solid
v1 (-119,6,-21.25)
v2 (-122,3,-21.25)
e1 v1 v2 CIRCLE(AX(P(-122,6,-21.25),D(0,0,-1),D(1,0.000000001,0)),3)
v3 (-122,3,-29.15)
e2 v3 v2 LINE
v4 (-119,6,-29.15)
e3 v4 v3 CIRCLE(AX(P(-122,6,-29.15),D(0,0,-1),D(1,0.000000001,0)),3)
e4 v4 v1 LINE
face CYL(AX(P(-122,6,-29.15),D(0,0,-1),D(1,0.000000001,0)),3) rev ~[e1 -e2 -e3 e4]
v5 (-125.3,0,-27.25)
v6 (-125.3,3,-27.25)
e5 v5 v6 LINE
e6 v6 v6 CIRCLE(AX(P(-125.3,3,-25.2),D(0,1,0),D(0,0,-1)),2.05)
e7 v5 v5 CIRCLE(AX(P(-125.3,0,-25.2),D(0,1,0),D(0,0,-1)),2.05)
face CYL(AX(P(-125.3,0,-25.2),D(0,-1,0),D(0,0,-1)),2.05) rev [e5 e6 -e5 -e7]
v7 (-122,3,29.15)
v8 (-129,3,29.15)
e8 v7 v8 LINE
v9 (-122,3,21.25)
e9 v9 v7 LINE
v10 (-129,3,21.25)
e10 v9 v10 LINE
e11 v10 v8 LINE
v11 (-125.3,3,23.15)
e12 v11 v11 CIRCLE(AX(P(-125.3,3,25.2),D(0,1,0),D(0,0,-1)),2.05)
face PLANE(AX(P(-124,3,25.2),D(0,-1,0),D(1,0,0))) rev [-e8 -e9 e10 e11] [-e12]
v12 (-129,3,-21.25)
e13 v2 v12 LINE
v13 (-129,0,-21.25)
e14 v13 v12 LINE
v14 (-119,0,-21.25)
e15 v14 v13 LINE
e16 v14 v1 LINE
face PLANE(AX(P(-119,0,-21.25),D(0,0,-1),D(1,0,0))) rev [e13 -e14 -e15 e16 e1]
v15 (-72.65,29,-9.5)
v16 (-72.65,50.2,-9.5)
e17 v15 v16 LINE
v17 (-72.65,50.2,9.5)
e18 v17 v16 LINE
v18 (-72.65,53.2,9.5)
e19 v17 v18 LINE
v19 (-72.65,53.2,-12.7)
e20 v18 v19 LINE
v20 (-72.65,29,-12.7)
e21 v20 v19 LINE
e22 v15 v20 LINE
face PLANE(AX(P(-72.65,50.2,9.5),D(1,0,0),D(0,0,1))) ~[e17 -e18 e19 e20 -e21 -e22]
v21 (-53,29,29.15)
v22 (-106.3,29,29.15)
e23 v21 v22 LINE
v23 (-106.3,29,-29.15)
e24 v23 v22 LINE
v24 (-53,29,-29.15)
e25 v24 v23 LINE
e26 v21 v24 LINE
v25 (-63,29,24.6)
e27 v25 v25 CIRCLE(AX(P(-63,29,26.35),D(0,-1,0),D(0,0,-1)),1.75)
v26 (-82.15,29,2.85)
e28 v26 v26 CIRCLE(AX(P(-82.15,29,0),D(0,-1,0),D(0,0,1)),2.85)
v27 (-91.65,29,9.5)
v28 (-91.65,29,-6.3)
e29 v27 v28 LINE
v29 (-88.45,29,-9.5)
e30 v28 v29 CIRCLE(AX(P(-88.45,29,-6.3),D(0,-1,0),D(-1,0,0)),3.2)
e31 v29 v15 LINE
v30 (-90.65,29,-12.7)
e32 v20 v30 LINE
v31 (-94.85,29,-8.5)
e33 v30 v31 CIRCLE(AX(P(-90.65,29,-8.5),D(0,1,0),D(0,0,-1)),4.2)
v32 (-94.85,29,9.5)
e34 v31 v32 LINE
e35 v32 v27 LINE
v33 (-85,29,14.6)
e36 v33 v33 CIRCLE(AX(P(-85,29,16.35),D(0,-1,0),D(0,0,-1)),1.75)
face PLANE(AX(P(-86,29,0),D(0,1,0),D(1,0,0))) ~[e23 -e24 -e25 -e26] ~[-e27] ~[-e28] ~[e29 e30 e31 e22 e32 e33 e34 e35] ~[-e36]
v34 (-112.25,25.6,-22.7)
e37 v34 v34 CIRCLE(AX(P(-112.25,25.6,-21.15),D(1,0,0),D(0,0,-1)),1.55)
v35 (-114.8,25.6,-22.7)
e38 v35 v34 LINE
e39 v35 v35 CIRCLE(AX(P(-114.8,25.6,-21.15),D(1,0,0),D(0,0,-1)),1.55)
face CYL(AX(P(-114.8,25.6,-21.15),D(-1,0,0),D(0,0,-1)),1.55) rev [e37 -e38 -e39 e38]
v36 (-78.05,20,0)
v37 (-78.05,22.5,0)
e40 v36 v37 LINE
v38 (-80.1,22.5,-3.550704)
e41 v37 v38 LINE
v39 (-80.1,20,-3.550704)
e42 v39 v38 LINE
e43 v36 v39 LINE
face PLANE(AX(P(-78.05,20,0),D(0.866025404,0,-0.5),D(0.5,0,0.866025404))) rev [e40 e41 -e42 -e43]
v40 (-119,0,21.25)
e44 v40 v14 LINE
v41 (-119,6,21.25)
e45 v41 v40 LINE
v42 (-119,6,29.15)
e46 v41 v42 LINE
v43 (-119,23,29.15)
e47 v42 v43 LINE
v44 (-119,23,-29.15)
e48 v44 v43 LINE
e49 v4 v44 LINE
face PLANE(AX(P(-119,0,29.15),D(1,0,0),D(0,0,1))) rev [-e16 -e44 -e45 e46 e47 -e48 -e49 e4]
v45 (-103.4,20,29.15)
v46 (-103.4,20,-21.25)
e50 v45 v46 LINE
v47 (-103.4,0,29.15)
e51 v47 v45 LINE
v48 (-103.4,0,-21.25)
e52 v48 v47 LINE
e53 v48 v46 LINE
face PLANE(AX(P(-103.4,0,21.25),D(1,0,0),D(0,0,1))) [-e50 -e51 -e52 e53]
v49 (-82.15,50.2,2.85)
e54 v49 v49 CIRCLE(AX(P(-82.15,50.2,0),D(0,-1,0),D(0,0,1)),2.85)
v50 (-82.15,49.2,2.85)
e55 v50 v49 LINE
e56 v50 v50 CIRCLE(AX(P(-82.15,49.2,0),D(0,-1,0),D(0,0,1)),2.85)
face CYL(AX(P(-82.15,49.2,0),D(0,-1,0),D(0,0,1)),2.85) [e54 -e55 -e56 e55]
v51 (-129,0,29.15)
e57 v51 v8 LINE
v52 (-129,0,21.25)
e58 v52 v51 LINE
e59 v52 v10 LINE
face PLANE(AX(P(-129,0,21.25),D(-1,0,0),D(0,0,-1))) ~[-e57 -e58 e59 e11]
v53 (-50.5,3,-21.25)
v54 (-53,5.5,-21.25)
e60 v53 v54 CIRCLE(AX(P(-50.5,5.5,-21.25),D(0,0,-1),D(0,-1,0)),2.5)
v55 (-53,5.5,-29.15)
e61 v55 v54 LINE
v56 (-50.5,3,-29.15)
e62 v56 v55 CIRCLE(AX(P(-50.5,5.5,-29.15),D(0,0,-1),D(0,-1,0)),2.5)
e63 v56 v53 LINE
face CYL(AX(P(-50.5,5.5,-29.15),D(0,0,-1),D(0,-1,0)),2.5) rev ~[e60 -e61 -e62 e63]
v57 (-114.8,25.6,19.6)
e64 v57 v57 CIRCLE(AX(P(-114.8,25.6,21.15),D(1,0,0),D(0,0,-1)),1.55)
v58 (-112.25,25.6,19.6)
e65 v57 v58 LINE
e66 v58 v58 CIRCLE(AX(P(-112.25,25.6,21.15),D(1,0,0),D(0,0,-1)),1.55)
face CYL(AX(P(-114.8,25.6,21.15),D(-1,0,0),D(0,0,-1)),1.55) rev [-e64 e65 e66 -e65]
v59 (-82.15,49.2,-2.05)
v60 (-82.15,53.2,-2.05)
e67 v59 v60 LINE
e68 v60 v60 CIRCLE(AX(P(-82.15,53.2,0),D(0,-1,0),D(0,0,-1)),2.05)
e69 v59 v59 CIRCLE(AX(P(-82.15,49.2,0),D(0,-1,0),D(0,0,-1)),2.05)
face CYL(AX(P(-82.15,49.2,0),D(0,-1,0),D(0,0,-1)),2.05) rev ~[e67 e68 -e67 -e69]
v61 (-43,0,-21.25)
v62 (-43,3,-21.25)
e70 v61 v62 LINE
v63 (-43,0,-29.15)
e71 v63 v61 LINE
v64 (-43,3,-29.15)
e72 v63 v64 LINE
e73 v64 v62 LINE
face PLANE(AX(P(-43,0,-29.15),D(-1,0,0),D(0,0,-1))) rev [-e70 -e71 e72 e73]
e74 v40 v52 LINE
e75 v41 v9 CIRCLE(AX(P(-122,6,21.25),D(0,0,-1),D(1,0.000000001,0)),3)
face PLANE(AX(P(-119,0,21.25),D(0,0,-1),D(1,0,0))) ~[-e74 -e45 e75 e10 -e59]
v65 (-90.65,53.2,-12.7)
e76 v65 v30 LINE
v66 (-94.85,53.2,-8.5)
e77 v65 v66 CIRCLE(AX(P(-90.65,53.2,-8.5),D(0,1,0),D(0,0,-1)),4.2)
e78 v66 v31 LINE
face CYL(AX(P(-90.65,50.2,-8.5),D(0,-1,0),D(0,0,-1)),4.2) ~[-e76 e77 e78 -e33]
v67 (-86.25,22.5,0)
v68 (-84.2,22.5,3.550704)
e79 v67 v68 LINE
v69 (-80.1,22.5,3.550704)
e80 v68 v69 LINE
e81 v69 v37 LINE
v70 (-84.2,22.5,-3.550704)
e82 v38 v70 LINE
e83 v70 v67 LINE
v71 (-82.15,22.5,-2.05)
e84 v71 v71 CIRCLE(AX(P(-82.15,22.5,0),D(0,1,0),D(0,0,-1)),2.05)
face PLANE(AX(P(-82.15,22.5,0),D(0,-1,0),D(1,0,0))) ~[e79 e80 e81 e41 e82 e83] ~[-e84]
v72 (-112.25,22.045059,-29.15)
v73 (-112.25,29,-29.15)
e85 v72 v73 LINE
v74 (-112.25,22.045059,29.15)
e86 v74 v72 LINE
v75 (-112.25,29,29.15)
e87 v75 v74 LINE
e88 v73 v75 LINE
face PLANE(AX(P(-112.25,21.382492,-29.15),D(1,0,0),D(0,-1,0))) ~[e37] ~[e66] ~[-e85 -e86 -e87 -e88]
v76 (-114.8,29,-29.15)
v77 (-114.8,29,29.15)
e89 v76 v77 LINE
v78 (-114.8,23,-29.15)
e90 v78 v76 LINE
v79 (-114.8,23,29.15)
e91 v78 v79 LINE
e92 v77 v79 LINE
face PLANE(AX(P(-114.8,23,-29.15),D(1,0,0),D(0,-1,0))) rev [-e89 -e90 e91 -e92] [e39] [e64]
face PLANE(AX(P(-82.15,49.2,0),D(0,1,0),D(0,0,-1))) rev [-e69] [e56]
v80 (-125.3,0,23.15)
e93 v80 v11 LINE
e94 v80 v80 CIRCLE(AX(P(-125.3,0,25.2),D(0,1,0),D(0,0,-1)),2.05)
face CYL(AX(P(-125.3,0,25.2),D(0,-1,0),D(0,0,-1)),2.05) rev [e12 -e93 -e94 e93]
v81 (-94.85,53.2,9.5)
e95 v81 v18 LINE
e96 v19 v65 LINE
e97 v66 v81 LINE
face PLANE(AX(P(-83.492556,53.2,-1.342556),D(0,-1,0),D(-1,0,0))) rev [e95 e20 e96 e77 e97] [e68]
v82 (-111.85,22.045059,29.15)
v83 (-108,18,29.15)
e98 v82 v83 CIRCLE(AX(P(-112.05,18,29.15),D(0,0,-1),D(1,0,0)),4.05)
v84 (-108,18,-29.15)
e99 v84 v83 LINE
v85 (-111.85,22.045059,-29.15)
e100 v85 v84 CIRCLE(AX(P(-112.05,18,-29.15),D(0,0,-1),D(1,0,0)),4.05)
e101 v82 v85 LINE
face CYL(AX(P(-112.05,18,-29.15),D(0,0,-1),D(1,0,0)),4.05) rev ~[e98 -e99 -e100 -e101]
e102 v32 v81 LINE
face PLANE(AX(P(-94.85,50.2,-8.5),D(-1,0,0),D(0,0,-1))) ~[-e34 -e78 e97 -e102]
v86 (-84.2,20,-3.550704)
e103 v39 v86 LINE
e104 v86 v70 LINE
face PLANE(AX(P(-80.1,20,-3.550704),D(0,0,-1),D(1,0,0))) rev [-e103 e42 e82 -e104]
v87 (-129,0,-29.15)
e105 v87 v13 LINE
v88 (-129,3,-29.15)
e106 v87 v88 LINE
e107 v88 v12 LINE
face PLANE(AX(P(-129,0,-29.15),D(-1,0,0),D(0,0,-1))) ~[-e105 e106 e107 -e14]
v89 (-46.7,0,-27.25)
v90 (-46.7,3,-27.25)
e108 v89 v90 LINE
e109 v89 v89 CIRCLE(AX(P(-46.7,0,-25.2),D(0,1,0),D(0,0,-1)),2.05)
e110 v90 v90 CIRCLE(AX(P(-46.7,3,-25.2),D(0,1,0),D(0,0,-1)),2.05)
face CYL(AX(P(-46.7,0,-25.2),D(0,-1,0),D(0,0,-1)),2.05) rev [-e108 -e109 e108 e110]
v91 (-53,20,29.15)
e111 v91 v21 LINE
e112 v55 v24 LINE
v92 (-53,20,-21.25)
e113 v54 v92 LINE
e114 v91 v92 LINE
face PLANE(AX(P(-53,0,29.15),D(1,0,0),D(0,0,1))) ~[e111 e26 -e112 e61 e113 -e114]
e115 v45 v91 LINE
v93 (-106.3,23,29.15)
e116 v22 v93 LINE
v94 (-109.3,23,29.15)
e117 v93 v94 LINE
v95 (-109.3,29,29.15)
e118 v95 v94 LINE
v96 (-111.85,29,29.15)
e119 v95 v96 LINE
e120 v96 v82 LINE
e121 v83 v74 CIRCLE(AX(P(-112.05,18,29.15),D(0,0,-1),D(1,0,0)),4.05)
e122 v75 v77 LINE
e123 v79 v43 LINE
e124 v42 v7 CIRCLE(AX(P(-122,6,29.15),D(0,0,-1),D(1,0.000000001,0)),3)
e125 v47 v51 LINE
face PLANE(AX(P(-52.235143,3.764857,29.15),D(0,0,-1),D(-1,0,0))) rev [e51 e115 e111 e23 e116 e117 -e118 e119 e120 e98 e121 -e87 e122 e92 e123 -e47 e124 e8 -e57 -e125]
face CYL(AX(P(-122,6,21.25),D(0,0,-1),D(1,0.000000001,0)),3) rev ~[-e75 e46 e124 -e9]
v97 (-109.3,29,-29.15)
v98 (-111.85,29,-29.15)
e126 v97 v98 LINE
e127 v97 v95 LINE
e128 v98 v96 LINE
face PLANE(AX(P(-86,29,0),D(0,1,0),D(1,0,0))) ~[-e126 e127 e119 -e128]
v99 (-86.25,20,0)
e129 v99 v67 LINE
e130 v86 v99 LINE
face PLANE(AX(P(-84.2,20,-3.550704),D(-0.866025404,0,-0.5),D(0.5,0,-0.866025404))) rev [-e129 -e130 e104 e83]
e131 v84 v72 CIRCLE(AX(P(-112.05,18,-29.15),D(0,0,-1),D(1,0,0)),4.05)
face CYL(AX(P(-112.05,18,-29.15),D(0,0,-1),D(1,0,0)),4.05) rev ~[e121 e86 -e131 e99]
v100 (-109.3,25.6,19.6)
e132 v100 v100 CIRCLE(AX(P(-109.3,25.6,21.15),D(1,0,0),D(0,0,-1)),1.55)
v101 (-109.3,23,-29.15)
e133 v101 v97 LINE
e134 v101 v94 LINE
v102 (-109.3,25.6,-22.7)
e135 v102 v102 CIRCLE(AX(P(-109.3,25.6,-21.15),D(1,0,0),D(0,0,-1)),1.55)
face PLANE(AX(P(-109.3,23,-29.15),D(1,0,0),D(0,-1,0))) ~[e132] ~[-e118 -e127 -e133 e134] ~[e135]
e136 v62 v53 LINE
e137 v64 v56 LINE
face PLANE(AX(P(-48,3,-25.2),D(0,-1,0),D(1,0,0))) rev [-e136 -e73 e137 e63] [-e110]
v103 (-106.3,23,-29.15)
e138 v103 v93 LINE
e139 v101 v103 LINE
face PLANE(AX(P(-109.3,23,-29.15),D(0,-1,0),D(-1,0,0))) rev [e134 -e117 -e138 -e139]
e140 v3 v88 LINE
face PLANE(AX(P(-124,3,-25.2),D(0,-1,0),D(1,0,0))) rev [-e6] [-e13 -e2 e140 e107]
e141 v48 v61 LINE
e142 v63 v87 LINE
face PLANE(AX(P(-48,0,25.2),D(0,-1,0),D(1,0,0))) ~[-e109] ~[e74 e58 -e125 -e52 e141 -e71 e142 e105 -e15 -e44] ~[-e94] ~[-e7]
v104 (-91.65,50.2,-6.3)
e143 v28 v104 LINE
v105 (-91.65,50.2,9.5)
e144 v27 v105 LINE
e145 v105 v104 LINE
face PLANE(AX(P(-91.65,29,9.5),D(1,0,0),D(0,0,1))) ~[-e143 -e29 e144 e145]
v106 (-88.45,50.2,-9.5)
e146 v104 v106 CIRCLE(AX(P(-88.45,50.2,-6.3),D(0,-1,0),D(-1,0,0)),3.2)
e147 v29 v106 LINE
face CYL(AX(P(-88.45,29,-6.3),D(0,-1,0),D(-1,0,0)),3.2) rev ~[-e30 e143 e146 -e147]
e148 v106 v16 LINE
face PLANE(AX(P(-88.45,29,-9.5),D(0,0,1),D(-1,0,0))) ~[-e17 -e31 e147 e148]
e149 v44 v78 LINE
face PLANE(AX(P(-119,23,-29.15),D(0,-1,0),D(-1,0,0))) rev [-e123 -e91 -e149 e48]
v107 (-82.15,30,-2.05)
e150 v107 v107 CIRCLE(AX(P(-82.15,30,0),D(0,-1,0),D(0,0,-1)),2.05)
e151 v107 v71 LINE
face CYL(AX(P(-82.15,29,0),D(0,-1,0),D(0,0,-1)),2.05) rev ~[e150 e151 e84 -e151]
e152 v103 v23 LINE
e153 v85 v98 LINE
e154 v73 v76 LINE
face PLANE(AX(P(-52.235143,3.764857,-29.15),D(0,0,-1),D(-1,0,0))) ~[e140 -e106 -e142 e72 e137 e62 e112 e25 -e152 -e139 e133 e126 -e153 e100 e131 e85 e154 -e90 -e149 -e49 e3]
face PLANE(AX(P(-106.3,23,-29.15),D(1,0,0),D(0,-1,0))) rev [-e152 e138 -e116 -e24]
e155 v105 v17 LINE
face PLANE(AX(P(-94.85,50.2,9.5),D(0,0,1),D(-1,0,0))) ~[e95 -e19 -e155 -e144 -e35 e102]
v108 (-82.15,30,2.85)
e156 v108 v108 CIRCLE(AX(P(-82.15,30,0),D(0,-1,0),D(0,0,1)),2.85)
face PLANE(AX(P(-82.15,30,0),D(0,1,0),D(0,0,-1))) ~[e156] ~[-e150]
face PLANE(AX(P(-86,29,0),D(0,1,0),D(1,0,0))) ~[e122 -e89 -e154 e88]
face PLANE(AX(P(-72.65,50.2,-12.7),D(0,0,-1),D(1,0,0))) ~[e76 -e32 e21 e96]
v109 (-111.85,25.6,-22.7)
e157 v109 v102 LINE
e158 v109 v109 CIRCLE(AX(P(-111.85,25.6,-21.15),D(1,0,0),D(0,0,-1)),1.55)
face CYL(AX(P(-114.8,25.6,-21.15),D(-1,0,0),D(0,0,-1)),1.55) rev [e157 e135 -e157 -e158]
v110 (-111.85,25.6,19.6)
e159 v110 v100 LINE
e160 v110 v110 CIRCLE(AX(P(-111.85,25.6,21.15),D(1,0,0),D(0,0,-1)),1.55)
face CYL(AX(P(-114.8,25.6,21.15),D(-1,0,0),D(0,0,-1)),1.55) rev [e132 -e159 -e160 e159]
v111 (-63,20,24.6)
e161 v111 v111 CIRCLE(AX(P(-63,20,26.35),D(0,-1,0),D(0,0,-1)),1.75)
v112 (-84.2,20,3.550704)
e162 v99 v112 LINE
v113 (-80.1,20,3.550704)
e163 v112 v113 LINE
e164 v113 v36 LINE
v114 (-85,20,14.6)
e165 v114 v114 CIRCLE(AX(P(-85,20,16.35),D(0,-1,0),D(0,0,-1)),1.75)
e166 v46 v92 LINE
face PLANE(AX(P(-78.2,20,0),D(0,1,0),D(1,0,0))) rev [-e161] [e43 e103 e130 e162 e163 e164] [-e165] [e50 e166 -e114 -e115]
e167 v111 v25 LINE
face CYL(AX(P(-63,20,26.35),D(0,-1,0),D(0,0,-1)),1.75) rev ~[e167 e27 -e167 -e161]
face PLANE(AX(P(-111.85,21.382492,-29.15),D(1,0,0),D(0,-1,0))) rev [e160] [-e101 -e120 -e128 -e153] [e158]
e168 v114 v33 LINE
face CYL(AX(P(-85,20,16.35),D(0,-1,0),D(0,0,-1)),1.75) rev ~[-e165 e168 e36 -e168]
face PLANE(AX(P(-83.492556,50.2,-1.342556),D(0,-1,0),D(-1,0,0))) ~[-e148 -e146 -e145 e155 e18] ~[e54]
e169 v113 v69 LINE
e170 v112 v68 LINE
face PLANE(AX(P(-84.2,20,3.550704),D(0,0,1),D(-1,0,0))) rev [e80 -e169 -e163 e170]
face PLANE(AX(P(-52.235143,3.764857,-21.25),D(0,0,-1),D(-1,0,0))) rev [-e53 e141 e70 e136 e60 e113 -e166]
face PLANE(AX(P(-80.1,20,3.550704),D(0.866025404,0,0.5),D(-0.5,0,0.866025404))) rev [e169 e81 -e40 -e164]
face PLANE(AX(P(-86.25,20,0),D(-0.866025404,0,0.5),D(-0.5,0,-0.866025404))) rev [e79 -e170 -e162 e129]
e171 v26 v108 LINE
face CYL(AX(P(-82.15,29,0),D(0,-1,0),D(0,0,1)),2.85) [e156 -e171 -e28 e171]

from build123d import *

# Parameters (mm, degrees)
SKETCH1_W           = 66
SKETCH1_H           = 58.3
SKETCH1_R           = 2.05
BOSS_EXTRUDE1_DEPTH = 29
CUT_EXTRUDE1_START  = -29
CUT_EXTRUDE1_DEPTH  = 20
SKETCH6_W           = 10
SKETCH6_H           = 7.9
SKETCH6_R           = 2.05
BOSS_EXTRUDE2_DEPTH = 3
BOSS_EXTRUDE4_DEPTH = 7.9
BOSS_EXTRUDE5_START = -50.4
BOSS_EXTRUDE5_DEPTH = 7.9
CUT_EXTRUDE4_START  = -58.3
SKETCH8_R           = 4.05
CUT_EXTRUDE4_DEPTH  = 58.3
CUT_EXTRUDE5_REACH  = 80.031
SKETCH10_W          = 3
SKETCH10_H          = 6
SKETCH10_W_2        = 4.2
SKETCH10_W_3        = 0.4
SKETCH10_H_2        = 7.617508416
CUT_EXTRUDE6_REACH  = 84.74
SKETCH11_R          = 1.55
CUT_EXTRUDE7_DEPTH  = 2.5
BOSS_EXTRUDE6_DEPTH = 21.2
SKETCH14_R          = 2.05
BOSS_EXTRUDE7_DEPTH = 3
BOSS_EXTRUDE8_START = -4
SKETCH15_R          = 2.85
SKETCH15_R_2        = 2.05
BOSS_EXTRUDE8_DEPTH = 1
BOSS_EXTRUDE9_START = -24.2
SKETCH15_2_R        = 2.85
SKETCH15_2_R_2      = 2.05
BOSS_EXTRUDE9_DEPTH = 1
SKETCH16_W          = 60.451877866
SKETCH16_H          = 7.9
CUT_EXTRUDE8_DEPTH  = 20
SKETCH19_R          = 1.75
CUT_EXTRUDE9_DEPTH  = 9


with BuildPart() as part:
    # Sketch1 → Boss-Extrude1 (new body)
    with BuildSketch(Plane(origin=(0, 0, 0), x_dir=(1, 0, 0), z_dir=(0, 1, 0))):
        Rectangle(SKETCH1_W, SKETCH1_H)
        with Locations(Location((-3.85, 0, 0), (0, 0, 90))):
            Circle(SKETCH1_R, mode=Mode.SUBTRACT)
    extrude(amount=BOSS_EXTRUDE1_DEPTH)

    # Sketch3 → Cut-Extrude1 (cut)
    with BuildSketch(Plane(origin=(0, 29, 0), x_dir=(1, 0, 0), z_dir=(0, 1, 0)).offset(CUT_EXTRUDE1_START)):
        Polygon((-33, 21.25), (-33, -21.25), (17.4, -21.25), (17.4, 21.25), (-25.1, 21.25), align=None)
    extrude(amount=CUT_EXTRUDE1_DEPTH, mode=Mode.SUBTRACT)

    # Sketch6 → Boss-Extrude2 (add)
    # profile 1 of 4: a face of its own
    with BuildSketch(Plane.XZ):
        with Locations((-38, 25.2)):
            Rectangle(SKETCH6_W, SKETCH6_H)
        with Locations(Location((-39.3, 25.2, 0), (0, 0, 270))):
            Circle(SKETCH6_R, mode=Mode.SUBTRACT)
    # profile 2 of 4: a face of its own
    with BuildSketch(Plane.XZ):
        with Locations((-38, -25.2)):
            Rectangle(SKETCH6_W, SKETCH6_H)
        with Locations(Location((-39.3, -25.2, 0), (0, 0, 270))):
            Circle(SKETCH6_R, mode=Mode.SUBTRACT)
    # profile 3 of 4: a face of its own
    with BuildSketch(Plane.XZ):
        with Locations((38, 25.2)):
            Rectangle(SKETCH6_W, SKETCH6_H)
        with Locations(Location((39.3, 25.2, 0), (0, 0, 270))):
            Circle(SKETCH6_R, mode=Mode.SUBTRACT)
    # profile 4 of 4: a face of its own
    with BuildSketch(Plane.XZ):
        with Locations((38, -25.2)):
            Rectangle(SKETCH6_W, SKETCH6_H)
        with Locations(Location((39.3, -25.2, 0), (0, 0, 270))):
            Circle(SKETCH6_R, mode=Mode.SUBTRACT)
    extrude(amount=-BOSS_EXTRUDE2_DEPTH)

    # Sketch7 → Boss-Extrude4 (add)
    with BuildSketch(Plane(origin=(0, 0, -29.15), x_dir=(-1, 0, 0), z_dir=(0, 0, -1))):
        with BuildLine():
            ThreePointArc((35.5, 3), (33.732233047, 3.732233047), (33, 5.5))
            Line((33, 5.5), (33, 3))
            Line((33, 3), (35.5, 3))
        make_face()
        with BuildLine():
            ThreePointArc((-33, 6), (-33.878679656, 3.878679656), (-36, 3))
            Line((-36, 3), (-33, 3))
            Line((-33, 3), (-33, 6))
        make_face()
    extrude(amount=-BOSS_EXTRUDE4_DEPTH)

    # Sketch7<5> → Boss-Extrude5 (add)
    with BuildSketch(Plane(origin=(0, 0, -29.15), x_dir=(-1, 0, 0), z_dir=(0, 0, -1)).offset(BOSS_EXTRUDE5_START)):
        with BuildLine():
            ThreePointArc((35.5, 3), (33.732233047, 3.732233047), (33, 5.5))
            Line((33, 5.5), (33, 3))
            Line((33, 3), (35.5, 3))
        make_face()
        with BuildLine():
            ThreePointArc((-33, 6), (-33.878679656, 3.878679656), (-36, 3))
            Line((-36, 3), (-33, 3))
            Line((-33, 3), (-33, 6))
        make_face()
    extrude(amount=-BOSS_EXTRUDE5_DEPTH)

    # Sketch8 → Cut-Extrude4 (cut)
    with BuildSketch(Plane.XY.offset(29.15).offset(CUT_EXTRUDE4_START)):
        with Locations(Location((26.05, 18, 0), (0, 0, 180))):
            Circle(SKETCH8_R)
    extrude(amount=CUT_EXTRUDE4_DEPTH, mode=Mode.SUBTRACT)

    # Sketch10 → Cut-Extrude5 (cut, up to next)
    with BuildSketch(Plane(origin=(0, 0, -29.15), x_dir=(-1, 0, 0), z_dir=(0, 0, -1)), mode=Mode.PRIVATE) as cut_extrude5_sk1:
        with Locations((-21.8, 26)):
            Rectangle(SKETCH10_W, SKETCH10_H)
    cut_extrude5_tool1 = extrude(cut_extrude5_sk1.sketch, amount=-CUT_EXTRUDE5_REACH, mode=Mode.PRIVATE) & part.part
    # Sketch10 → Cut-Extrude5 (cut, up to next)
    with BuildSketch(Plane(origin=(0, 0, -29.15), x_dir=(-1, 0, 0), z_dir=(0, 0, -1)), mode=Mode.PRIVATE) as cut_extrude5_sk2:
        with Locations((-30.9, 26)):
            Rectangle(SKETCH10_W_2, SKETCH10_H)
    cut_extrude5_tool2 = extrude(cut_extrude5_sk2.sketch, amount=-CUT_EXTRUDE5_REACH, mode=Mode.PRIVATE) & part.part
    # Sketch10 → Cut-Extrude5 (cut, up to next)
    with BuildSketch(Plane(origin=(0, 0, -29.15), x_dir=(-1, 0, 0), z_dir=(0, 0, -1)), mode=Mode.PRIVATE) as cut_extrude5_sk3:
        with Locations((-26.05, 25.191245792)):
            Rectangle(SKETCH10_W_3, SKETCH10_H_2)
    cut_extrude5_tool3 = extrude(cut_extrude5_sk3.sketch, amount=-CUT_EXTRUDE5_REACH, mode=Mode.PRIVATE) & part.part
    add(cut_extrude5_tool1.solids().sort_by_distance((21.8, 26, -29.15))[0], mode=Mode.SUBTRACT)
    add(cut_extrude5_tool2.solids().sort_by_distance((30.9, 26, -29.15))[0], mode=Mode.SUBTRACT)
    add(cut_extrude5_tool3.solids().sort_by_distance((26.05, 25.191246, -29.15))[0], mode=Mode.SUBTRACT)

    # Cut-Extrude6: up to this face of the body (flat: up to its plane)
    cut_extrude6_end = Plane(part.part.faces().sort_by_distance((23.3, 26, 0))[0])
    # Sketch11 → Cut-Extrude6 (cut, up to the picked face)
    with BuildSketch(Plane(origin=(28.8, 0, 0), x_dir=(0, 0, -1), z_dir=(1, 0, 0)), mode=Mode.PRIVATE) as cut_extrude6_sk1:
        with Locations((-21.15, 25.6)):
            Circle(SKETCH11_R)
    cut_extrude6_tool1 = split(extrude(cut_extrude6_sk1.sketch, amount=-CUT_EXTRUDE6_REACH, mode=Mode.PRIVATE), bisect_by=cut_extrude6_end, keep=Keep.BOTH, mode=Mode.PRIVATE)
    # Sketch11 → Cut-Extrude6 (cut, up to the picked face)
    with BuildSketch(Plane(origin=(28.8, 0, 0), x_dir=(0, 0, -1), z_dir=(1, 0, 0)), mode=Mode.PRIVATE) as cut_extrude6_sk2:
        with Locations((21.15, 25.6)):
            Circle(SKETCH11_R)
    cut_extrude6_tool2 = split(extrude(cut_extrude6_sk2.sketch, amount=-CUT_EXTRUDE6_REACH, mode=Mode.PRIVATE), bisect_by=cut_extrude6_end, keep=Keep.BOTH, mode=Mode.PRIVATE)
    add(cut_extrude6_tool1.solids().sort_by(Axis((28.8, 25.6, 21.15), (-1, 0, 0)))[0], mode=Mode.SUBTRACT)
    add(cut_extrude6_tool2.solids().sort_by(Axis((28.8, 25.6, -21.15), (-1, 0, 0)))[0], mode=Mode.SUBTRACT)

    # Sketch12 → Cut-Extrude7 (cut)
    with BuildSketch(Plane.XZ.offset(-20)):
        Polygon((-7.95, 0), (-5.9, -3.550704156), (-1.8, -3.550704156), (0.25, 0), (-1.8, 3.550704156), (-5.9, 3.550704156), align=None)
    extrude(amount=-CUT_EXTRUDE7_DEPTH, mode=Mode.SUBTRACT)

    # Sketch13 → Boss-Extrude6 (add)
    with BuildSketch(Plane(origin=(0, 29, 0), x_dir=(1, 0, 0), z_dir=(0, 1, 0))):
        with BuildLine():
            Line((-13.35, 9.5), (-13.35, 12.7))
            Line((-13.35, 12.7), (4.65, 12.7))
            ThreePointArc((4.65, 12.7), (7.619848481, 11.469848481), (8.85, 8.5))
            Line((8.85, 8.5), (8.85, -9.5))
            Line((8.85, -9.5), (5.65, -9.5))
            Line((5.65, -9.5), (5.65, 6.3))
            ThreePointArc((5.65, 6.3), (4.7127417, 8.5627417), (2.45, 9.5))
            Line((2.45, 9.5), (-13.35, 9.5))
        make_face()
    extrude(amount=BOSS_EXTRUDE6_DEPTH)

    # Sketch14 → Boss-Extrude7 (add)
    with BuildSketch(Plane(origin=(0, 50.2, 0), x_dir=(1, 0, 0), z_dir=(0, 1, 0))):
        with BuildLine():
            Line((-13.35, 12.7), (4.65, 12.7))
            ThreePointArc((4.65, 12.7), (7.619848481, 11.469848481), (8.85, 8.5))
            Line((8.85, 8.5), (8.85, -9.5))
            Line((8.85, -9.5), (-13.35, -9.5))
            Line((-13.35, -9.5), (-13.35, 12.7))
        make_face()
        with Locations(Location((-3.85, 0, 0), (0, 0, 90))):
            Circle(SKETCH14_R, mode=Mode.SUBTRACT)
    extrude(amount=BOSS_EXTRUDE7_DEPTH)

    # Sketch15 → Boss-Extrude8 (add)
    with BuildSketch(Plane(origin=(0, 53.2, 0), x_dir=(1, 0, 0), z_dir=(0, 1, 0)).offset(BOSS_EXTRUDE8_START)):
        with Locations(Location((-3.85, 0, 0), (0, 0, 270))):
            Circle(SKETCH15_R)
        with Locations(Location((-3.85, 0, 0), (0, 0, 90))):
            Circle(SKETCH15_R_2, mode=Mode.SUBTRACT)
    extrude(amount=BOSS_EXTRUDE8_DEPTH)

    # Sketch15<2> → Boss-Extrude9 (add)
    with BuildSketch(Plane(origin=(0, 53.2, 0), x_dir=(1, 0, 0), z_dir=(0, 1, 0)).offset(BOSS_EXTRUDE9_START)):
        with Locations(Location((-3.85, 0, 0), (0, 0, 270))):
            Circle(SKETCH15_2_R)
        with Locations(Location((-3.85, 0, 0), (0, 0, 90))):
            Circle(SKETCH15_2_R_2, mode=Mode.SUBTRACT)
    extrude(amount=BOSS_EXTRUDE9_DEPTH)


with BuildPart() as body_2:
    # Mirror2: mirrored copy
    add(part.part.mirror(Plane(origin=(-43, 3, -21.25), x_dir=(0, 0, 1), z_dir=(-1, 0, 0))))

    # Sketch16 → Cut-Extrude8 (cut)
    with BuildSketch(Plane.XZ):
        with Locations((-73.174061067, 25.2)):
            Rectangle(SKETCH16_W, SKETCH16_H)
    extrude(amount=-CUT_EXTRUDE8_DEPTH, mode=Mode.SUBTRACT)

    # Sketch19 → Cut-Extrude9 (cut)
    with BuildSketch(Plane.XZ.offset(-20)):
        with Locations(Location((-85, 16.35, 0), (0, 0, 270))):
            Circle(SKETCH19_R)
        with Locations(Location((-63, 26.35, 0), (0, 0, 270))):
            Circle(SKETCH19_R)
    extrude(amount=-CUT_EXTRUDE9_DEPTH, mode=Mode.SUBTRACT)


solid = body_2.part
